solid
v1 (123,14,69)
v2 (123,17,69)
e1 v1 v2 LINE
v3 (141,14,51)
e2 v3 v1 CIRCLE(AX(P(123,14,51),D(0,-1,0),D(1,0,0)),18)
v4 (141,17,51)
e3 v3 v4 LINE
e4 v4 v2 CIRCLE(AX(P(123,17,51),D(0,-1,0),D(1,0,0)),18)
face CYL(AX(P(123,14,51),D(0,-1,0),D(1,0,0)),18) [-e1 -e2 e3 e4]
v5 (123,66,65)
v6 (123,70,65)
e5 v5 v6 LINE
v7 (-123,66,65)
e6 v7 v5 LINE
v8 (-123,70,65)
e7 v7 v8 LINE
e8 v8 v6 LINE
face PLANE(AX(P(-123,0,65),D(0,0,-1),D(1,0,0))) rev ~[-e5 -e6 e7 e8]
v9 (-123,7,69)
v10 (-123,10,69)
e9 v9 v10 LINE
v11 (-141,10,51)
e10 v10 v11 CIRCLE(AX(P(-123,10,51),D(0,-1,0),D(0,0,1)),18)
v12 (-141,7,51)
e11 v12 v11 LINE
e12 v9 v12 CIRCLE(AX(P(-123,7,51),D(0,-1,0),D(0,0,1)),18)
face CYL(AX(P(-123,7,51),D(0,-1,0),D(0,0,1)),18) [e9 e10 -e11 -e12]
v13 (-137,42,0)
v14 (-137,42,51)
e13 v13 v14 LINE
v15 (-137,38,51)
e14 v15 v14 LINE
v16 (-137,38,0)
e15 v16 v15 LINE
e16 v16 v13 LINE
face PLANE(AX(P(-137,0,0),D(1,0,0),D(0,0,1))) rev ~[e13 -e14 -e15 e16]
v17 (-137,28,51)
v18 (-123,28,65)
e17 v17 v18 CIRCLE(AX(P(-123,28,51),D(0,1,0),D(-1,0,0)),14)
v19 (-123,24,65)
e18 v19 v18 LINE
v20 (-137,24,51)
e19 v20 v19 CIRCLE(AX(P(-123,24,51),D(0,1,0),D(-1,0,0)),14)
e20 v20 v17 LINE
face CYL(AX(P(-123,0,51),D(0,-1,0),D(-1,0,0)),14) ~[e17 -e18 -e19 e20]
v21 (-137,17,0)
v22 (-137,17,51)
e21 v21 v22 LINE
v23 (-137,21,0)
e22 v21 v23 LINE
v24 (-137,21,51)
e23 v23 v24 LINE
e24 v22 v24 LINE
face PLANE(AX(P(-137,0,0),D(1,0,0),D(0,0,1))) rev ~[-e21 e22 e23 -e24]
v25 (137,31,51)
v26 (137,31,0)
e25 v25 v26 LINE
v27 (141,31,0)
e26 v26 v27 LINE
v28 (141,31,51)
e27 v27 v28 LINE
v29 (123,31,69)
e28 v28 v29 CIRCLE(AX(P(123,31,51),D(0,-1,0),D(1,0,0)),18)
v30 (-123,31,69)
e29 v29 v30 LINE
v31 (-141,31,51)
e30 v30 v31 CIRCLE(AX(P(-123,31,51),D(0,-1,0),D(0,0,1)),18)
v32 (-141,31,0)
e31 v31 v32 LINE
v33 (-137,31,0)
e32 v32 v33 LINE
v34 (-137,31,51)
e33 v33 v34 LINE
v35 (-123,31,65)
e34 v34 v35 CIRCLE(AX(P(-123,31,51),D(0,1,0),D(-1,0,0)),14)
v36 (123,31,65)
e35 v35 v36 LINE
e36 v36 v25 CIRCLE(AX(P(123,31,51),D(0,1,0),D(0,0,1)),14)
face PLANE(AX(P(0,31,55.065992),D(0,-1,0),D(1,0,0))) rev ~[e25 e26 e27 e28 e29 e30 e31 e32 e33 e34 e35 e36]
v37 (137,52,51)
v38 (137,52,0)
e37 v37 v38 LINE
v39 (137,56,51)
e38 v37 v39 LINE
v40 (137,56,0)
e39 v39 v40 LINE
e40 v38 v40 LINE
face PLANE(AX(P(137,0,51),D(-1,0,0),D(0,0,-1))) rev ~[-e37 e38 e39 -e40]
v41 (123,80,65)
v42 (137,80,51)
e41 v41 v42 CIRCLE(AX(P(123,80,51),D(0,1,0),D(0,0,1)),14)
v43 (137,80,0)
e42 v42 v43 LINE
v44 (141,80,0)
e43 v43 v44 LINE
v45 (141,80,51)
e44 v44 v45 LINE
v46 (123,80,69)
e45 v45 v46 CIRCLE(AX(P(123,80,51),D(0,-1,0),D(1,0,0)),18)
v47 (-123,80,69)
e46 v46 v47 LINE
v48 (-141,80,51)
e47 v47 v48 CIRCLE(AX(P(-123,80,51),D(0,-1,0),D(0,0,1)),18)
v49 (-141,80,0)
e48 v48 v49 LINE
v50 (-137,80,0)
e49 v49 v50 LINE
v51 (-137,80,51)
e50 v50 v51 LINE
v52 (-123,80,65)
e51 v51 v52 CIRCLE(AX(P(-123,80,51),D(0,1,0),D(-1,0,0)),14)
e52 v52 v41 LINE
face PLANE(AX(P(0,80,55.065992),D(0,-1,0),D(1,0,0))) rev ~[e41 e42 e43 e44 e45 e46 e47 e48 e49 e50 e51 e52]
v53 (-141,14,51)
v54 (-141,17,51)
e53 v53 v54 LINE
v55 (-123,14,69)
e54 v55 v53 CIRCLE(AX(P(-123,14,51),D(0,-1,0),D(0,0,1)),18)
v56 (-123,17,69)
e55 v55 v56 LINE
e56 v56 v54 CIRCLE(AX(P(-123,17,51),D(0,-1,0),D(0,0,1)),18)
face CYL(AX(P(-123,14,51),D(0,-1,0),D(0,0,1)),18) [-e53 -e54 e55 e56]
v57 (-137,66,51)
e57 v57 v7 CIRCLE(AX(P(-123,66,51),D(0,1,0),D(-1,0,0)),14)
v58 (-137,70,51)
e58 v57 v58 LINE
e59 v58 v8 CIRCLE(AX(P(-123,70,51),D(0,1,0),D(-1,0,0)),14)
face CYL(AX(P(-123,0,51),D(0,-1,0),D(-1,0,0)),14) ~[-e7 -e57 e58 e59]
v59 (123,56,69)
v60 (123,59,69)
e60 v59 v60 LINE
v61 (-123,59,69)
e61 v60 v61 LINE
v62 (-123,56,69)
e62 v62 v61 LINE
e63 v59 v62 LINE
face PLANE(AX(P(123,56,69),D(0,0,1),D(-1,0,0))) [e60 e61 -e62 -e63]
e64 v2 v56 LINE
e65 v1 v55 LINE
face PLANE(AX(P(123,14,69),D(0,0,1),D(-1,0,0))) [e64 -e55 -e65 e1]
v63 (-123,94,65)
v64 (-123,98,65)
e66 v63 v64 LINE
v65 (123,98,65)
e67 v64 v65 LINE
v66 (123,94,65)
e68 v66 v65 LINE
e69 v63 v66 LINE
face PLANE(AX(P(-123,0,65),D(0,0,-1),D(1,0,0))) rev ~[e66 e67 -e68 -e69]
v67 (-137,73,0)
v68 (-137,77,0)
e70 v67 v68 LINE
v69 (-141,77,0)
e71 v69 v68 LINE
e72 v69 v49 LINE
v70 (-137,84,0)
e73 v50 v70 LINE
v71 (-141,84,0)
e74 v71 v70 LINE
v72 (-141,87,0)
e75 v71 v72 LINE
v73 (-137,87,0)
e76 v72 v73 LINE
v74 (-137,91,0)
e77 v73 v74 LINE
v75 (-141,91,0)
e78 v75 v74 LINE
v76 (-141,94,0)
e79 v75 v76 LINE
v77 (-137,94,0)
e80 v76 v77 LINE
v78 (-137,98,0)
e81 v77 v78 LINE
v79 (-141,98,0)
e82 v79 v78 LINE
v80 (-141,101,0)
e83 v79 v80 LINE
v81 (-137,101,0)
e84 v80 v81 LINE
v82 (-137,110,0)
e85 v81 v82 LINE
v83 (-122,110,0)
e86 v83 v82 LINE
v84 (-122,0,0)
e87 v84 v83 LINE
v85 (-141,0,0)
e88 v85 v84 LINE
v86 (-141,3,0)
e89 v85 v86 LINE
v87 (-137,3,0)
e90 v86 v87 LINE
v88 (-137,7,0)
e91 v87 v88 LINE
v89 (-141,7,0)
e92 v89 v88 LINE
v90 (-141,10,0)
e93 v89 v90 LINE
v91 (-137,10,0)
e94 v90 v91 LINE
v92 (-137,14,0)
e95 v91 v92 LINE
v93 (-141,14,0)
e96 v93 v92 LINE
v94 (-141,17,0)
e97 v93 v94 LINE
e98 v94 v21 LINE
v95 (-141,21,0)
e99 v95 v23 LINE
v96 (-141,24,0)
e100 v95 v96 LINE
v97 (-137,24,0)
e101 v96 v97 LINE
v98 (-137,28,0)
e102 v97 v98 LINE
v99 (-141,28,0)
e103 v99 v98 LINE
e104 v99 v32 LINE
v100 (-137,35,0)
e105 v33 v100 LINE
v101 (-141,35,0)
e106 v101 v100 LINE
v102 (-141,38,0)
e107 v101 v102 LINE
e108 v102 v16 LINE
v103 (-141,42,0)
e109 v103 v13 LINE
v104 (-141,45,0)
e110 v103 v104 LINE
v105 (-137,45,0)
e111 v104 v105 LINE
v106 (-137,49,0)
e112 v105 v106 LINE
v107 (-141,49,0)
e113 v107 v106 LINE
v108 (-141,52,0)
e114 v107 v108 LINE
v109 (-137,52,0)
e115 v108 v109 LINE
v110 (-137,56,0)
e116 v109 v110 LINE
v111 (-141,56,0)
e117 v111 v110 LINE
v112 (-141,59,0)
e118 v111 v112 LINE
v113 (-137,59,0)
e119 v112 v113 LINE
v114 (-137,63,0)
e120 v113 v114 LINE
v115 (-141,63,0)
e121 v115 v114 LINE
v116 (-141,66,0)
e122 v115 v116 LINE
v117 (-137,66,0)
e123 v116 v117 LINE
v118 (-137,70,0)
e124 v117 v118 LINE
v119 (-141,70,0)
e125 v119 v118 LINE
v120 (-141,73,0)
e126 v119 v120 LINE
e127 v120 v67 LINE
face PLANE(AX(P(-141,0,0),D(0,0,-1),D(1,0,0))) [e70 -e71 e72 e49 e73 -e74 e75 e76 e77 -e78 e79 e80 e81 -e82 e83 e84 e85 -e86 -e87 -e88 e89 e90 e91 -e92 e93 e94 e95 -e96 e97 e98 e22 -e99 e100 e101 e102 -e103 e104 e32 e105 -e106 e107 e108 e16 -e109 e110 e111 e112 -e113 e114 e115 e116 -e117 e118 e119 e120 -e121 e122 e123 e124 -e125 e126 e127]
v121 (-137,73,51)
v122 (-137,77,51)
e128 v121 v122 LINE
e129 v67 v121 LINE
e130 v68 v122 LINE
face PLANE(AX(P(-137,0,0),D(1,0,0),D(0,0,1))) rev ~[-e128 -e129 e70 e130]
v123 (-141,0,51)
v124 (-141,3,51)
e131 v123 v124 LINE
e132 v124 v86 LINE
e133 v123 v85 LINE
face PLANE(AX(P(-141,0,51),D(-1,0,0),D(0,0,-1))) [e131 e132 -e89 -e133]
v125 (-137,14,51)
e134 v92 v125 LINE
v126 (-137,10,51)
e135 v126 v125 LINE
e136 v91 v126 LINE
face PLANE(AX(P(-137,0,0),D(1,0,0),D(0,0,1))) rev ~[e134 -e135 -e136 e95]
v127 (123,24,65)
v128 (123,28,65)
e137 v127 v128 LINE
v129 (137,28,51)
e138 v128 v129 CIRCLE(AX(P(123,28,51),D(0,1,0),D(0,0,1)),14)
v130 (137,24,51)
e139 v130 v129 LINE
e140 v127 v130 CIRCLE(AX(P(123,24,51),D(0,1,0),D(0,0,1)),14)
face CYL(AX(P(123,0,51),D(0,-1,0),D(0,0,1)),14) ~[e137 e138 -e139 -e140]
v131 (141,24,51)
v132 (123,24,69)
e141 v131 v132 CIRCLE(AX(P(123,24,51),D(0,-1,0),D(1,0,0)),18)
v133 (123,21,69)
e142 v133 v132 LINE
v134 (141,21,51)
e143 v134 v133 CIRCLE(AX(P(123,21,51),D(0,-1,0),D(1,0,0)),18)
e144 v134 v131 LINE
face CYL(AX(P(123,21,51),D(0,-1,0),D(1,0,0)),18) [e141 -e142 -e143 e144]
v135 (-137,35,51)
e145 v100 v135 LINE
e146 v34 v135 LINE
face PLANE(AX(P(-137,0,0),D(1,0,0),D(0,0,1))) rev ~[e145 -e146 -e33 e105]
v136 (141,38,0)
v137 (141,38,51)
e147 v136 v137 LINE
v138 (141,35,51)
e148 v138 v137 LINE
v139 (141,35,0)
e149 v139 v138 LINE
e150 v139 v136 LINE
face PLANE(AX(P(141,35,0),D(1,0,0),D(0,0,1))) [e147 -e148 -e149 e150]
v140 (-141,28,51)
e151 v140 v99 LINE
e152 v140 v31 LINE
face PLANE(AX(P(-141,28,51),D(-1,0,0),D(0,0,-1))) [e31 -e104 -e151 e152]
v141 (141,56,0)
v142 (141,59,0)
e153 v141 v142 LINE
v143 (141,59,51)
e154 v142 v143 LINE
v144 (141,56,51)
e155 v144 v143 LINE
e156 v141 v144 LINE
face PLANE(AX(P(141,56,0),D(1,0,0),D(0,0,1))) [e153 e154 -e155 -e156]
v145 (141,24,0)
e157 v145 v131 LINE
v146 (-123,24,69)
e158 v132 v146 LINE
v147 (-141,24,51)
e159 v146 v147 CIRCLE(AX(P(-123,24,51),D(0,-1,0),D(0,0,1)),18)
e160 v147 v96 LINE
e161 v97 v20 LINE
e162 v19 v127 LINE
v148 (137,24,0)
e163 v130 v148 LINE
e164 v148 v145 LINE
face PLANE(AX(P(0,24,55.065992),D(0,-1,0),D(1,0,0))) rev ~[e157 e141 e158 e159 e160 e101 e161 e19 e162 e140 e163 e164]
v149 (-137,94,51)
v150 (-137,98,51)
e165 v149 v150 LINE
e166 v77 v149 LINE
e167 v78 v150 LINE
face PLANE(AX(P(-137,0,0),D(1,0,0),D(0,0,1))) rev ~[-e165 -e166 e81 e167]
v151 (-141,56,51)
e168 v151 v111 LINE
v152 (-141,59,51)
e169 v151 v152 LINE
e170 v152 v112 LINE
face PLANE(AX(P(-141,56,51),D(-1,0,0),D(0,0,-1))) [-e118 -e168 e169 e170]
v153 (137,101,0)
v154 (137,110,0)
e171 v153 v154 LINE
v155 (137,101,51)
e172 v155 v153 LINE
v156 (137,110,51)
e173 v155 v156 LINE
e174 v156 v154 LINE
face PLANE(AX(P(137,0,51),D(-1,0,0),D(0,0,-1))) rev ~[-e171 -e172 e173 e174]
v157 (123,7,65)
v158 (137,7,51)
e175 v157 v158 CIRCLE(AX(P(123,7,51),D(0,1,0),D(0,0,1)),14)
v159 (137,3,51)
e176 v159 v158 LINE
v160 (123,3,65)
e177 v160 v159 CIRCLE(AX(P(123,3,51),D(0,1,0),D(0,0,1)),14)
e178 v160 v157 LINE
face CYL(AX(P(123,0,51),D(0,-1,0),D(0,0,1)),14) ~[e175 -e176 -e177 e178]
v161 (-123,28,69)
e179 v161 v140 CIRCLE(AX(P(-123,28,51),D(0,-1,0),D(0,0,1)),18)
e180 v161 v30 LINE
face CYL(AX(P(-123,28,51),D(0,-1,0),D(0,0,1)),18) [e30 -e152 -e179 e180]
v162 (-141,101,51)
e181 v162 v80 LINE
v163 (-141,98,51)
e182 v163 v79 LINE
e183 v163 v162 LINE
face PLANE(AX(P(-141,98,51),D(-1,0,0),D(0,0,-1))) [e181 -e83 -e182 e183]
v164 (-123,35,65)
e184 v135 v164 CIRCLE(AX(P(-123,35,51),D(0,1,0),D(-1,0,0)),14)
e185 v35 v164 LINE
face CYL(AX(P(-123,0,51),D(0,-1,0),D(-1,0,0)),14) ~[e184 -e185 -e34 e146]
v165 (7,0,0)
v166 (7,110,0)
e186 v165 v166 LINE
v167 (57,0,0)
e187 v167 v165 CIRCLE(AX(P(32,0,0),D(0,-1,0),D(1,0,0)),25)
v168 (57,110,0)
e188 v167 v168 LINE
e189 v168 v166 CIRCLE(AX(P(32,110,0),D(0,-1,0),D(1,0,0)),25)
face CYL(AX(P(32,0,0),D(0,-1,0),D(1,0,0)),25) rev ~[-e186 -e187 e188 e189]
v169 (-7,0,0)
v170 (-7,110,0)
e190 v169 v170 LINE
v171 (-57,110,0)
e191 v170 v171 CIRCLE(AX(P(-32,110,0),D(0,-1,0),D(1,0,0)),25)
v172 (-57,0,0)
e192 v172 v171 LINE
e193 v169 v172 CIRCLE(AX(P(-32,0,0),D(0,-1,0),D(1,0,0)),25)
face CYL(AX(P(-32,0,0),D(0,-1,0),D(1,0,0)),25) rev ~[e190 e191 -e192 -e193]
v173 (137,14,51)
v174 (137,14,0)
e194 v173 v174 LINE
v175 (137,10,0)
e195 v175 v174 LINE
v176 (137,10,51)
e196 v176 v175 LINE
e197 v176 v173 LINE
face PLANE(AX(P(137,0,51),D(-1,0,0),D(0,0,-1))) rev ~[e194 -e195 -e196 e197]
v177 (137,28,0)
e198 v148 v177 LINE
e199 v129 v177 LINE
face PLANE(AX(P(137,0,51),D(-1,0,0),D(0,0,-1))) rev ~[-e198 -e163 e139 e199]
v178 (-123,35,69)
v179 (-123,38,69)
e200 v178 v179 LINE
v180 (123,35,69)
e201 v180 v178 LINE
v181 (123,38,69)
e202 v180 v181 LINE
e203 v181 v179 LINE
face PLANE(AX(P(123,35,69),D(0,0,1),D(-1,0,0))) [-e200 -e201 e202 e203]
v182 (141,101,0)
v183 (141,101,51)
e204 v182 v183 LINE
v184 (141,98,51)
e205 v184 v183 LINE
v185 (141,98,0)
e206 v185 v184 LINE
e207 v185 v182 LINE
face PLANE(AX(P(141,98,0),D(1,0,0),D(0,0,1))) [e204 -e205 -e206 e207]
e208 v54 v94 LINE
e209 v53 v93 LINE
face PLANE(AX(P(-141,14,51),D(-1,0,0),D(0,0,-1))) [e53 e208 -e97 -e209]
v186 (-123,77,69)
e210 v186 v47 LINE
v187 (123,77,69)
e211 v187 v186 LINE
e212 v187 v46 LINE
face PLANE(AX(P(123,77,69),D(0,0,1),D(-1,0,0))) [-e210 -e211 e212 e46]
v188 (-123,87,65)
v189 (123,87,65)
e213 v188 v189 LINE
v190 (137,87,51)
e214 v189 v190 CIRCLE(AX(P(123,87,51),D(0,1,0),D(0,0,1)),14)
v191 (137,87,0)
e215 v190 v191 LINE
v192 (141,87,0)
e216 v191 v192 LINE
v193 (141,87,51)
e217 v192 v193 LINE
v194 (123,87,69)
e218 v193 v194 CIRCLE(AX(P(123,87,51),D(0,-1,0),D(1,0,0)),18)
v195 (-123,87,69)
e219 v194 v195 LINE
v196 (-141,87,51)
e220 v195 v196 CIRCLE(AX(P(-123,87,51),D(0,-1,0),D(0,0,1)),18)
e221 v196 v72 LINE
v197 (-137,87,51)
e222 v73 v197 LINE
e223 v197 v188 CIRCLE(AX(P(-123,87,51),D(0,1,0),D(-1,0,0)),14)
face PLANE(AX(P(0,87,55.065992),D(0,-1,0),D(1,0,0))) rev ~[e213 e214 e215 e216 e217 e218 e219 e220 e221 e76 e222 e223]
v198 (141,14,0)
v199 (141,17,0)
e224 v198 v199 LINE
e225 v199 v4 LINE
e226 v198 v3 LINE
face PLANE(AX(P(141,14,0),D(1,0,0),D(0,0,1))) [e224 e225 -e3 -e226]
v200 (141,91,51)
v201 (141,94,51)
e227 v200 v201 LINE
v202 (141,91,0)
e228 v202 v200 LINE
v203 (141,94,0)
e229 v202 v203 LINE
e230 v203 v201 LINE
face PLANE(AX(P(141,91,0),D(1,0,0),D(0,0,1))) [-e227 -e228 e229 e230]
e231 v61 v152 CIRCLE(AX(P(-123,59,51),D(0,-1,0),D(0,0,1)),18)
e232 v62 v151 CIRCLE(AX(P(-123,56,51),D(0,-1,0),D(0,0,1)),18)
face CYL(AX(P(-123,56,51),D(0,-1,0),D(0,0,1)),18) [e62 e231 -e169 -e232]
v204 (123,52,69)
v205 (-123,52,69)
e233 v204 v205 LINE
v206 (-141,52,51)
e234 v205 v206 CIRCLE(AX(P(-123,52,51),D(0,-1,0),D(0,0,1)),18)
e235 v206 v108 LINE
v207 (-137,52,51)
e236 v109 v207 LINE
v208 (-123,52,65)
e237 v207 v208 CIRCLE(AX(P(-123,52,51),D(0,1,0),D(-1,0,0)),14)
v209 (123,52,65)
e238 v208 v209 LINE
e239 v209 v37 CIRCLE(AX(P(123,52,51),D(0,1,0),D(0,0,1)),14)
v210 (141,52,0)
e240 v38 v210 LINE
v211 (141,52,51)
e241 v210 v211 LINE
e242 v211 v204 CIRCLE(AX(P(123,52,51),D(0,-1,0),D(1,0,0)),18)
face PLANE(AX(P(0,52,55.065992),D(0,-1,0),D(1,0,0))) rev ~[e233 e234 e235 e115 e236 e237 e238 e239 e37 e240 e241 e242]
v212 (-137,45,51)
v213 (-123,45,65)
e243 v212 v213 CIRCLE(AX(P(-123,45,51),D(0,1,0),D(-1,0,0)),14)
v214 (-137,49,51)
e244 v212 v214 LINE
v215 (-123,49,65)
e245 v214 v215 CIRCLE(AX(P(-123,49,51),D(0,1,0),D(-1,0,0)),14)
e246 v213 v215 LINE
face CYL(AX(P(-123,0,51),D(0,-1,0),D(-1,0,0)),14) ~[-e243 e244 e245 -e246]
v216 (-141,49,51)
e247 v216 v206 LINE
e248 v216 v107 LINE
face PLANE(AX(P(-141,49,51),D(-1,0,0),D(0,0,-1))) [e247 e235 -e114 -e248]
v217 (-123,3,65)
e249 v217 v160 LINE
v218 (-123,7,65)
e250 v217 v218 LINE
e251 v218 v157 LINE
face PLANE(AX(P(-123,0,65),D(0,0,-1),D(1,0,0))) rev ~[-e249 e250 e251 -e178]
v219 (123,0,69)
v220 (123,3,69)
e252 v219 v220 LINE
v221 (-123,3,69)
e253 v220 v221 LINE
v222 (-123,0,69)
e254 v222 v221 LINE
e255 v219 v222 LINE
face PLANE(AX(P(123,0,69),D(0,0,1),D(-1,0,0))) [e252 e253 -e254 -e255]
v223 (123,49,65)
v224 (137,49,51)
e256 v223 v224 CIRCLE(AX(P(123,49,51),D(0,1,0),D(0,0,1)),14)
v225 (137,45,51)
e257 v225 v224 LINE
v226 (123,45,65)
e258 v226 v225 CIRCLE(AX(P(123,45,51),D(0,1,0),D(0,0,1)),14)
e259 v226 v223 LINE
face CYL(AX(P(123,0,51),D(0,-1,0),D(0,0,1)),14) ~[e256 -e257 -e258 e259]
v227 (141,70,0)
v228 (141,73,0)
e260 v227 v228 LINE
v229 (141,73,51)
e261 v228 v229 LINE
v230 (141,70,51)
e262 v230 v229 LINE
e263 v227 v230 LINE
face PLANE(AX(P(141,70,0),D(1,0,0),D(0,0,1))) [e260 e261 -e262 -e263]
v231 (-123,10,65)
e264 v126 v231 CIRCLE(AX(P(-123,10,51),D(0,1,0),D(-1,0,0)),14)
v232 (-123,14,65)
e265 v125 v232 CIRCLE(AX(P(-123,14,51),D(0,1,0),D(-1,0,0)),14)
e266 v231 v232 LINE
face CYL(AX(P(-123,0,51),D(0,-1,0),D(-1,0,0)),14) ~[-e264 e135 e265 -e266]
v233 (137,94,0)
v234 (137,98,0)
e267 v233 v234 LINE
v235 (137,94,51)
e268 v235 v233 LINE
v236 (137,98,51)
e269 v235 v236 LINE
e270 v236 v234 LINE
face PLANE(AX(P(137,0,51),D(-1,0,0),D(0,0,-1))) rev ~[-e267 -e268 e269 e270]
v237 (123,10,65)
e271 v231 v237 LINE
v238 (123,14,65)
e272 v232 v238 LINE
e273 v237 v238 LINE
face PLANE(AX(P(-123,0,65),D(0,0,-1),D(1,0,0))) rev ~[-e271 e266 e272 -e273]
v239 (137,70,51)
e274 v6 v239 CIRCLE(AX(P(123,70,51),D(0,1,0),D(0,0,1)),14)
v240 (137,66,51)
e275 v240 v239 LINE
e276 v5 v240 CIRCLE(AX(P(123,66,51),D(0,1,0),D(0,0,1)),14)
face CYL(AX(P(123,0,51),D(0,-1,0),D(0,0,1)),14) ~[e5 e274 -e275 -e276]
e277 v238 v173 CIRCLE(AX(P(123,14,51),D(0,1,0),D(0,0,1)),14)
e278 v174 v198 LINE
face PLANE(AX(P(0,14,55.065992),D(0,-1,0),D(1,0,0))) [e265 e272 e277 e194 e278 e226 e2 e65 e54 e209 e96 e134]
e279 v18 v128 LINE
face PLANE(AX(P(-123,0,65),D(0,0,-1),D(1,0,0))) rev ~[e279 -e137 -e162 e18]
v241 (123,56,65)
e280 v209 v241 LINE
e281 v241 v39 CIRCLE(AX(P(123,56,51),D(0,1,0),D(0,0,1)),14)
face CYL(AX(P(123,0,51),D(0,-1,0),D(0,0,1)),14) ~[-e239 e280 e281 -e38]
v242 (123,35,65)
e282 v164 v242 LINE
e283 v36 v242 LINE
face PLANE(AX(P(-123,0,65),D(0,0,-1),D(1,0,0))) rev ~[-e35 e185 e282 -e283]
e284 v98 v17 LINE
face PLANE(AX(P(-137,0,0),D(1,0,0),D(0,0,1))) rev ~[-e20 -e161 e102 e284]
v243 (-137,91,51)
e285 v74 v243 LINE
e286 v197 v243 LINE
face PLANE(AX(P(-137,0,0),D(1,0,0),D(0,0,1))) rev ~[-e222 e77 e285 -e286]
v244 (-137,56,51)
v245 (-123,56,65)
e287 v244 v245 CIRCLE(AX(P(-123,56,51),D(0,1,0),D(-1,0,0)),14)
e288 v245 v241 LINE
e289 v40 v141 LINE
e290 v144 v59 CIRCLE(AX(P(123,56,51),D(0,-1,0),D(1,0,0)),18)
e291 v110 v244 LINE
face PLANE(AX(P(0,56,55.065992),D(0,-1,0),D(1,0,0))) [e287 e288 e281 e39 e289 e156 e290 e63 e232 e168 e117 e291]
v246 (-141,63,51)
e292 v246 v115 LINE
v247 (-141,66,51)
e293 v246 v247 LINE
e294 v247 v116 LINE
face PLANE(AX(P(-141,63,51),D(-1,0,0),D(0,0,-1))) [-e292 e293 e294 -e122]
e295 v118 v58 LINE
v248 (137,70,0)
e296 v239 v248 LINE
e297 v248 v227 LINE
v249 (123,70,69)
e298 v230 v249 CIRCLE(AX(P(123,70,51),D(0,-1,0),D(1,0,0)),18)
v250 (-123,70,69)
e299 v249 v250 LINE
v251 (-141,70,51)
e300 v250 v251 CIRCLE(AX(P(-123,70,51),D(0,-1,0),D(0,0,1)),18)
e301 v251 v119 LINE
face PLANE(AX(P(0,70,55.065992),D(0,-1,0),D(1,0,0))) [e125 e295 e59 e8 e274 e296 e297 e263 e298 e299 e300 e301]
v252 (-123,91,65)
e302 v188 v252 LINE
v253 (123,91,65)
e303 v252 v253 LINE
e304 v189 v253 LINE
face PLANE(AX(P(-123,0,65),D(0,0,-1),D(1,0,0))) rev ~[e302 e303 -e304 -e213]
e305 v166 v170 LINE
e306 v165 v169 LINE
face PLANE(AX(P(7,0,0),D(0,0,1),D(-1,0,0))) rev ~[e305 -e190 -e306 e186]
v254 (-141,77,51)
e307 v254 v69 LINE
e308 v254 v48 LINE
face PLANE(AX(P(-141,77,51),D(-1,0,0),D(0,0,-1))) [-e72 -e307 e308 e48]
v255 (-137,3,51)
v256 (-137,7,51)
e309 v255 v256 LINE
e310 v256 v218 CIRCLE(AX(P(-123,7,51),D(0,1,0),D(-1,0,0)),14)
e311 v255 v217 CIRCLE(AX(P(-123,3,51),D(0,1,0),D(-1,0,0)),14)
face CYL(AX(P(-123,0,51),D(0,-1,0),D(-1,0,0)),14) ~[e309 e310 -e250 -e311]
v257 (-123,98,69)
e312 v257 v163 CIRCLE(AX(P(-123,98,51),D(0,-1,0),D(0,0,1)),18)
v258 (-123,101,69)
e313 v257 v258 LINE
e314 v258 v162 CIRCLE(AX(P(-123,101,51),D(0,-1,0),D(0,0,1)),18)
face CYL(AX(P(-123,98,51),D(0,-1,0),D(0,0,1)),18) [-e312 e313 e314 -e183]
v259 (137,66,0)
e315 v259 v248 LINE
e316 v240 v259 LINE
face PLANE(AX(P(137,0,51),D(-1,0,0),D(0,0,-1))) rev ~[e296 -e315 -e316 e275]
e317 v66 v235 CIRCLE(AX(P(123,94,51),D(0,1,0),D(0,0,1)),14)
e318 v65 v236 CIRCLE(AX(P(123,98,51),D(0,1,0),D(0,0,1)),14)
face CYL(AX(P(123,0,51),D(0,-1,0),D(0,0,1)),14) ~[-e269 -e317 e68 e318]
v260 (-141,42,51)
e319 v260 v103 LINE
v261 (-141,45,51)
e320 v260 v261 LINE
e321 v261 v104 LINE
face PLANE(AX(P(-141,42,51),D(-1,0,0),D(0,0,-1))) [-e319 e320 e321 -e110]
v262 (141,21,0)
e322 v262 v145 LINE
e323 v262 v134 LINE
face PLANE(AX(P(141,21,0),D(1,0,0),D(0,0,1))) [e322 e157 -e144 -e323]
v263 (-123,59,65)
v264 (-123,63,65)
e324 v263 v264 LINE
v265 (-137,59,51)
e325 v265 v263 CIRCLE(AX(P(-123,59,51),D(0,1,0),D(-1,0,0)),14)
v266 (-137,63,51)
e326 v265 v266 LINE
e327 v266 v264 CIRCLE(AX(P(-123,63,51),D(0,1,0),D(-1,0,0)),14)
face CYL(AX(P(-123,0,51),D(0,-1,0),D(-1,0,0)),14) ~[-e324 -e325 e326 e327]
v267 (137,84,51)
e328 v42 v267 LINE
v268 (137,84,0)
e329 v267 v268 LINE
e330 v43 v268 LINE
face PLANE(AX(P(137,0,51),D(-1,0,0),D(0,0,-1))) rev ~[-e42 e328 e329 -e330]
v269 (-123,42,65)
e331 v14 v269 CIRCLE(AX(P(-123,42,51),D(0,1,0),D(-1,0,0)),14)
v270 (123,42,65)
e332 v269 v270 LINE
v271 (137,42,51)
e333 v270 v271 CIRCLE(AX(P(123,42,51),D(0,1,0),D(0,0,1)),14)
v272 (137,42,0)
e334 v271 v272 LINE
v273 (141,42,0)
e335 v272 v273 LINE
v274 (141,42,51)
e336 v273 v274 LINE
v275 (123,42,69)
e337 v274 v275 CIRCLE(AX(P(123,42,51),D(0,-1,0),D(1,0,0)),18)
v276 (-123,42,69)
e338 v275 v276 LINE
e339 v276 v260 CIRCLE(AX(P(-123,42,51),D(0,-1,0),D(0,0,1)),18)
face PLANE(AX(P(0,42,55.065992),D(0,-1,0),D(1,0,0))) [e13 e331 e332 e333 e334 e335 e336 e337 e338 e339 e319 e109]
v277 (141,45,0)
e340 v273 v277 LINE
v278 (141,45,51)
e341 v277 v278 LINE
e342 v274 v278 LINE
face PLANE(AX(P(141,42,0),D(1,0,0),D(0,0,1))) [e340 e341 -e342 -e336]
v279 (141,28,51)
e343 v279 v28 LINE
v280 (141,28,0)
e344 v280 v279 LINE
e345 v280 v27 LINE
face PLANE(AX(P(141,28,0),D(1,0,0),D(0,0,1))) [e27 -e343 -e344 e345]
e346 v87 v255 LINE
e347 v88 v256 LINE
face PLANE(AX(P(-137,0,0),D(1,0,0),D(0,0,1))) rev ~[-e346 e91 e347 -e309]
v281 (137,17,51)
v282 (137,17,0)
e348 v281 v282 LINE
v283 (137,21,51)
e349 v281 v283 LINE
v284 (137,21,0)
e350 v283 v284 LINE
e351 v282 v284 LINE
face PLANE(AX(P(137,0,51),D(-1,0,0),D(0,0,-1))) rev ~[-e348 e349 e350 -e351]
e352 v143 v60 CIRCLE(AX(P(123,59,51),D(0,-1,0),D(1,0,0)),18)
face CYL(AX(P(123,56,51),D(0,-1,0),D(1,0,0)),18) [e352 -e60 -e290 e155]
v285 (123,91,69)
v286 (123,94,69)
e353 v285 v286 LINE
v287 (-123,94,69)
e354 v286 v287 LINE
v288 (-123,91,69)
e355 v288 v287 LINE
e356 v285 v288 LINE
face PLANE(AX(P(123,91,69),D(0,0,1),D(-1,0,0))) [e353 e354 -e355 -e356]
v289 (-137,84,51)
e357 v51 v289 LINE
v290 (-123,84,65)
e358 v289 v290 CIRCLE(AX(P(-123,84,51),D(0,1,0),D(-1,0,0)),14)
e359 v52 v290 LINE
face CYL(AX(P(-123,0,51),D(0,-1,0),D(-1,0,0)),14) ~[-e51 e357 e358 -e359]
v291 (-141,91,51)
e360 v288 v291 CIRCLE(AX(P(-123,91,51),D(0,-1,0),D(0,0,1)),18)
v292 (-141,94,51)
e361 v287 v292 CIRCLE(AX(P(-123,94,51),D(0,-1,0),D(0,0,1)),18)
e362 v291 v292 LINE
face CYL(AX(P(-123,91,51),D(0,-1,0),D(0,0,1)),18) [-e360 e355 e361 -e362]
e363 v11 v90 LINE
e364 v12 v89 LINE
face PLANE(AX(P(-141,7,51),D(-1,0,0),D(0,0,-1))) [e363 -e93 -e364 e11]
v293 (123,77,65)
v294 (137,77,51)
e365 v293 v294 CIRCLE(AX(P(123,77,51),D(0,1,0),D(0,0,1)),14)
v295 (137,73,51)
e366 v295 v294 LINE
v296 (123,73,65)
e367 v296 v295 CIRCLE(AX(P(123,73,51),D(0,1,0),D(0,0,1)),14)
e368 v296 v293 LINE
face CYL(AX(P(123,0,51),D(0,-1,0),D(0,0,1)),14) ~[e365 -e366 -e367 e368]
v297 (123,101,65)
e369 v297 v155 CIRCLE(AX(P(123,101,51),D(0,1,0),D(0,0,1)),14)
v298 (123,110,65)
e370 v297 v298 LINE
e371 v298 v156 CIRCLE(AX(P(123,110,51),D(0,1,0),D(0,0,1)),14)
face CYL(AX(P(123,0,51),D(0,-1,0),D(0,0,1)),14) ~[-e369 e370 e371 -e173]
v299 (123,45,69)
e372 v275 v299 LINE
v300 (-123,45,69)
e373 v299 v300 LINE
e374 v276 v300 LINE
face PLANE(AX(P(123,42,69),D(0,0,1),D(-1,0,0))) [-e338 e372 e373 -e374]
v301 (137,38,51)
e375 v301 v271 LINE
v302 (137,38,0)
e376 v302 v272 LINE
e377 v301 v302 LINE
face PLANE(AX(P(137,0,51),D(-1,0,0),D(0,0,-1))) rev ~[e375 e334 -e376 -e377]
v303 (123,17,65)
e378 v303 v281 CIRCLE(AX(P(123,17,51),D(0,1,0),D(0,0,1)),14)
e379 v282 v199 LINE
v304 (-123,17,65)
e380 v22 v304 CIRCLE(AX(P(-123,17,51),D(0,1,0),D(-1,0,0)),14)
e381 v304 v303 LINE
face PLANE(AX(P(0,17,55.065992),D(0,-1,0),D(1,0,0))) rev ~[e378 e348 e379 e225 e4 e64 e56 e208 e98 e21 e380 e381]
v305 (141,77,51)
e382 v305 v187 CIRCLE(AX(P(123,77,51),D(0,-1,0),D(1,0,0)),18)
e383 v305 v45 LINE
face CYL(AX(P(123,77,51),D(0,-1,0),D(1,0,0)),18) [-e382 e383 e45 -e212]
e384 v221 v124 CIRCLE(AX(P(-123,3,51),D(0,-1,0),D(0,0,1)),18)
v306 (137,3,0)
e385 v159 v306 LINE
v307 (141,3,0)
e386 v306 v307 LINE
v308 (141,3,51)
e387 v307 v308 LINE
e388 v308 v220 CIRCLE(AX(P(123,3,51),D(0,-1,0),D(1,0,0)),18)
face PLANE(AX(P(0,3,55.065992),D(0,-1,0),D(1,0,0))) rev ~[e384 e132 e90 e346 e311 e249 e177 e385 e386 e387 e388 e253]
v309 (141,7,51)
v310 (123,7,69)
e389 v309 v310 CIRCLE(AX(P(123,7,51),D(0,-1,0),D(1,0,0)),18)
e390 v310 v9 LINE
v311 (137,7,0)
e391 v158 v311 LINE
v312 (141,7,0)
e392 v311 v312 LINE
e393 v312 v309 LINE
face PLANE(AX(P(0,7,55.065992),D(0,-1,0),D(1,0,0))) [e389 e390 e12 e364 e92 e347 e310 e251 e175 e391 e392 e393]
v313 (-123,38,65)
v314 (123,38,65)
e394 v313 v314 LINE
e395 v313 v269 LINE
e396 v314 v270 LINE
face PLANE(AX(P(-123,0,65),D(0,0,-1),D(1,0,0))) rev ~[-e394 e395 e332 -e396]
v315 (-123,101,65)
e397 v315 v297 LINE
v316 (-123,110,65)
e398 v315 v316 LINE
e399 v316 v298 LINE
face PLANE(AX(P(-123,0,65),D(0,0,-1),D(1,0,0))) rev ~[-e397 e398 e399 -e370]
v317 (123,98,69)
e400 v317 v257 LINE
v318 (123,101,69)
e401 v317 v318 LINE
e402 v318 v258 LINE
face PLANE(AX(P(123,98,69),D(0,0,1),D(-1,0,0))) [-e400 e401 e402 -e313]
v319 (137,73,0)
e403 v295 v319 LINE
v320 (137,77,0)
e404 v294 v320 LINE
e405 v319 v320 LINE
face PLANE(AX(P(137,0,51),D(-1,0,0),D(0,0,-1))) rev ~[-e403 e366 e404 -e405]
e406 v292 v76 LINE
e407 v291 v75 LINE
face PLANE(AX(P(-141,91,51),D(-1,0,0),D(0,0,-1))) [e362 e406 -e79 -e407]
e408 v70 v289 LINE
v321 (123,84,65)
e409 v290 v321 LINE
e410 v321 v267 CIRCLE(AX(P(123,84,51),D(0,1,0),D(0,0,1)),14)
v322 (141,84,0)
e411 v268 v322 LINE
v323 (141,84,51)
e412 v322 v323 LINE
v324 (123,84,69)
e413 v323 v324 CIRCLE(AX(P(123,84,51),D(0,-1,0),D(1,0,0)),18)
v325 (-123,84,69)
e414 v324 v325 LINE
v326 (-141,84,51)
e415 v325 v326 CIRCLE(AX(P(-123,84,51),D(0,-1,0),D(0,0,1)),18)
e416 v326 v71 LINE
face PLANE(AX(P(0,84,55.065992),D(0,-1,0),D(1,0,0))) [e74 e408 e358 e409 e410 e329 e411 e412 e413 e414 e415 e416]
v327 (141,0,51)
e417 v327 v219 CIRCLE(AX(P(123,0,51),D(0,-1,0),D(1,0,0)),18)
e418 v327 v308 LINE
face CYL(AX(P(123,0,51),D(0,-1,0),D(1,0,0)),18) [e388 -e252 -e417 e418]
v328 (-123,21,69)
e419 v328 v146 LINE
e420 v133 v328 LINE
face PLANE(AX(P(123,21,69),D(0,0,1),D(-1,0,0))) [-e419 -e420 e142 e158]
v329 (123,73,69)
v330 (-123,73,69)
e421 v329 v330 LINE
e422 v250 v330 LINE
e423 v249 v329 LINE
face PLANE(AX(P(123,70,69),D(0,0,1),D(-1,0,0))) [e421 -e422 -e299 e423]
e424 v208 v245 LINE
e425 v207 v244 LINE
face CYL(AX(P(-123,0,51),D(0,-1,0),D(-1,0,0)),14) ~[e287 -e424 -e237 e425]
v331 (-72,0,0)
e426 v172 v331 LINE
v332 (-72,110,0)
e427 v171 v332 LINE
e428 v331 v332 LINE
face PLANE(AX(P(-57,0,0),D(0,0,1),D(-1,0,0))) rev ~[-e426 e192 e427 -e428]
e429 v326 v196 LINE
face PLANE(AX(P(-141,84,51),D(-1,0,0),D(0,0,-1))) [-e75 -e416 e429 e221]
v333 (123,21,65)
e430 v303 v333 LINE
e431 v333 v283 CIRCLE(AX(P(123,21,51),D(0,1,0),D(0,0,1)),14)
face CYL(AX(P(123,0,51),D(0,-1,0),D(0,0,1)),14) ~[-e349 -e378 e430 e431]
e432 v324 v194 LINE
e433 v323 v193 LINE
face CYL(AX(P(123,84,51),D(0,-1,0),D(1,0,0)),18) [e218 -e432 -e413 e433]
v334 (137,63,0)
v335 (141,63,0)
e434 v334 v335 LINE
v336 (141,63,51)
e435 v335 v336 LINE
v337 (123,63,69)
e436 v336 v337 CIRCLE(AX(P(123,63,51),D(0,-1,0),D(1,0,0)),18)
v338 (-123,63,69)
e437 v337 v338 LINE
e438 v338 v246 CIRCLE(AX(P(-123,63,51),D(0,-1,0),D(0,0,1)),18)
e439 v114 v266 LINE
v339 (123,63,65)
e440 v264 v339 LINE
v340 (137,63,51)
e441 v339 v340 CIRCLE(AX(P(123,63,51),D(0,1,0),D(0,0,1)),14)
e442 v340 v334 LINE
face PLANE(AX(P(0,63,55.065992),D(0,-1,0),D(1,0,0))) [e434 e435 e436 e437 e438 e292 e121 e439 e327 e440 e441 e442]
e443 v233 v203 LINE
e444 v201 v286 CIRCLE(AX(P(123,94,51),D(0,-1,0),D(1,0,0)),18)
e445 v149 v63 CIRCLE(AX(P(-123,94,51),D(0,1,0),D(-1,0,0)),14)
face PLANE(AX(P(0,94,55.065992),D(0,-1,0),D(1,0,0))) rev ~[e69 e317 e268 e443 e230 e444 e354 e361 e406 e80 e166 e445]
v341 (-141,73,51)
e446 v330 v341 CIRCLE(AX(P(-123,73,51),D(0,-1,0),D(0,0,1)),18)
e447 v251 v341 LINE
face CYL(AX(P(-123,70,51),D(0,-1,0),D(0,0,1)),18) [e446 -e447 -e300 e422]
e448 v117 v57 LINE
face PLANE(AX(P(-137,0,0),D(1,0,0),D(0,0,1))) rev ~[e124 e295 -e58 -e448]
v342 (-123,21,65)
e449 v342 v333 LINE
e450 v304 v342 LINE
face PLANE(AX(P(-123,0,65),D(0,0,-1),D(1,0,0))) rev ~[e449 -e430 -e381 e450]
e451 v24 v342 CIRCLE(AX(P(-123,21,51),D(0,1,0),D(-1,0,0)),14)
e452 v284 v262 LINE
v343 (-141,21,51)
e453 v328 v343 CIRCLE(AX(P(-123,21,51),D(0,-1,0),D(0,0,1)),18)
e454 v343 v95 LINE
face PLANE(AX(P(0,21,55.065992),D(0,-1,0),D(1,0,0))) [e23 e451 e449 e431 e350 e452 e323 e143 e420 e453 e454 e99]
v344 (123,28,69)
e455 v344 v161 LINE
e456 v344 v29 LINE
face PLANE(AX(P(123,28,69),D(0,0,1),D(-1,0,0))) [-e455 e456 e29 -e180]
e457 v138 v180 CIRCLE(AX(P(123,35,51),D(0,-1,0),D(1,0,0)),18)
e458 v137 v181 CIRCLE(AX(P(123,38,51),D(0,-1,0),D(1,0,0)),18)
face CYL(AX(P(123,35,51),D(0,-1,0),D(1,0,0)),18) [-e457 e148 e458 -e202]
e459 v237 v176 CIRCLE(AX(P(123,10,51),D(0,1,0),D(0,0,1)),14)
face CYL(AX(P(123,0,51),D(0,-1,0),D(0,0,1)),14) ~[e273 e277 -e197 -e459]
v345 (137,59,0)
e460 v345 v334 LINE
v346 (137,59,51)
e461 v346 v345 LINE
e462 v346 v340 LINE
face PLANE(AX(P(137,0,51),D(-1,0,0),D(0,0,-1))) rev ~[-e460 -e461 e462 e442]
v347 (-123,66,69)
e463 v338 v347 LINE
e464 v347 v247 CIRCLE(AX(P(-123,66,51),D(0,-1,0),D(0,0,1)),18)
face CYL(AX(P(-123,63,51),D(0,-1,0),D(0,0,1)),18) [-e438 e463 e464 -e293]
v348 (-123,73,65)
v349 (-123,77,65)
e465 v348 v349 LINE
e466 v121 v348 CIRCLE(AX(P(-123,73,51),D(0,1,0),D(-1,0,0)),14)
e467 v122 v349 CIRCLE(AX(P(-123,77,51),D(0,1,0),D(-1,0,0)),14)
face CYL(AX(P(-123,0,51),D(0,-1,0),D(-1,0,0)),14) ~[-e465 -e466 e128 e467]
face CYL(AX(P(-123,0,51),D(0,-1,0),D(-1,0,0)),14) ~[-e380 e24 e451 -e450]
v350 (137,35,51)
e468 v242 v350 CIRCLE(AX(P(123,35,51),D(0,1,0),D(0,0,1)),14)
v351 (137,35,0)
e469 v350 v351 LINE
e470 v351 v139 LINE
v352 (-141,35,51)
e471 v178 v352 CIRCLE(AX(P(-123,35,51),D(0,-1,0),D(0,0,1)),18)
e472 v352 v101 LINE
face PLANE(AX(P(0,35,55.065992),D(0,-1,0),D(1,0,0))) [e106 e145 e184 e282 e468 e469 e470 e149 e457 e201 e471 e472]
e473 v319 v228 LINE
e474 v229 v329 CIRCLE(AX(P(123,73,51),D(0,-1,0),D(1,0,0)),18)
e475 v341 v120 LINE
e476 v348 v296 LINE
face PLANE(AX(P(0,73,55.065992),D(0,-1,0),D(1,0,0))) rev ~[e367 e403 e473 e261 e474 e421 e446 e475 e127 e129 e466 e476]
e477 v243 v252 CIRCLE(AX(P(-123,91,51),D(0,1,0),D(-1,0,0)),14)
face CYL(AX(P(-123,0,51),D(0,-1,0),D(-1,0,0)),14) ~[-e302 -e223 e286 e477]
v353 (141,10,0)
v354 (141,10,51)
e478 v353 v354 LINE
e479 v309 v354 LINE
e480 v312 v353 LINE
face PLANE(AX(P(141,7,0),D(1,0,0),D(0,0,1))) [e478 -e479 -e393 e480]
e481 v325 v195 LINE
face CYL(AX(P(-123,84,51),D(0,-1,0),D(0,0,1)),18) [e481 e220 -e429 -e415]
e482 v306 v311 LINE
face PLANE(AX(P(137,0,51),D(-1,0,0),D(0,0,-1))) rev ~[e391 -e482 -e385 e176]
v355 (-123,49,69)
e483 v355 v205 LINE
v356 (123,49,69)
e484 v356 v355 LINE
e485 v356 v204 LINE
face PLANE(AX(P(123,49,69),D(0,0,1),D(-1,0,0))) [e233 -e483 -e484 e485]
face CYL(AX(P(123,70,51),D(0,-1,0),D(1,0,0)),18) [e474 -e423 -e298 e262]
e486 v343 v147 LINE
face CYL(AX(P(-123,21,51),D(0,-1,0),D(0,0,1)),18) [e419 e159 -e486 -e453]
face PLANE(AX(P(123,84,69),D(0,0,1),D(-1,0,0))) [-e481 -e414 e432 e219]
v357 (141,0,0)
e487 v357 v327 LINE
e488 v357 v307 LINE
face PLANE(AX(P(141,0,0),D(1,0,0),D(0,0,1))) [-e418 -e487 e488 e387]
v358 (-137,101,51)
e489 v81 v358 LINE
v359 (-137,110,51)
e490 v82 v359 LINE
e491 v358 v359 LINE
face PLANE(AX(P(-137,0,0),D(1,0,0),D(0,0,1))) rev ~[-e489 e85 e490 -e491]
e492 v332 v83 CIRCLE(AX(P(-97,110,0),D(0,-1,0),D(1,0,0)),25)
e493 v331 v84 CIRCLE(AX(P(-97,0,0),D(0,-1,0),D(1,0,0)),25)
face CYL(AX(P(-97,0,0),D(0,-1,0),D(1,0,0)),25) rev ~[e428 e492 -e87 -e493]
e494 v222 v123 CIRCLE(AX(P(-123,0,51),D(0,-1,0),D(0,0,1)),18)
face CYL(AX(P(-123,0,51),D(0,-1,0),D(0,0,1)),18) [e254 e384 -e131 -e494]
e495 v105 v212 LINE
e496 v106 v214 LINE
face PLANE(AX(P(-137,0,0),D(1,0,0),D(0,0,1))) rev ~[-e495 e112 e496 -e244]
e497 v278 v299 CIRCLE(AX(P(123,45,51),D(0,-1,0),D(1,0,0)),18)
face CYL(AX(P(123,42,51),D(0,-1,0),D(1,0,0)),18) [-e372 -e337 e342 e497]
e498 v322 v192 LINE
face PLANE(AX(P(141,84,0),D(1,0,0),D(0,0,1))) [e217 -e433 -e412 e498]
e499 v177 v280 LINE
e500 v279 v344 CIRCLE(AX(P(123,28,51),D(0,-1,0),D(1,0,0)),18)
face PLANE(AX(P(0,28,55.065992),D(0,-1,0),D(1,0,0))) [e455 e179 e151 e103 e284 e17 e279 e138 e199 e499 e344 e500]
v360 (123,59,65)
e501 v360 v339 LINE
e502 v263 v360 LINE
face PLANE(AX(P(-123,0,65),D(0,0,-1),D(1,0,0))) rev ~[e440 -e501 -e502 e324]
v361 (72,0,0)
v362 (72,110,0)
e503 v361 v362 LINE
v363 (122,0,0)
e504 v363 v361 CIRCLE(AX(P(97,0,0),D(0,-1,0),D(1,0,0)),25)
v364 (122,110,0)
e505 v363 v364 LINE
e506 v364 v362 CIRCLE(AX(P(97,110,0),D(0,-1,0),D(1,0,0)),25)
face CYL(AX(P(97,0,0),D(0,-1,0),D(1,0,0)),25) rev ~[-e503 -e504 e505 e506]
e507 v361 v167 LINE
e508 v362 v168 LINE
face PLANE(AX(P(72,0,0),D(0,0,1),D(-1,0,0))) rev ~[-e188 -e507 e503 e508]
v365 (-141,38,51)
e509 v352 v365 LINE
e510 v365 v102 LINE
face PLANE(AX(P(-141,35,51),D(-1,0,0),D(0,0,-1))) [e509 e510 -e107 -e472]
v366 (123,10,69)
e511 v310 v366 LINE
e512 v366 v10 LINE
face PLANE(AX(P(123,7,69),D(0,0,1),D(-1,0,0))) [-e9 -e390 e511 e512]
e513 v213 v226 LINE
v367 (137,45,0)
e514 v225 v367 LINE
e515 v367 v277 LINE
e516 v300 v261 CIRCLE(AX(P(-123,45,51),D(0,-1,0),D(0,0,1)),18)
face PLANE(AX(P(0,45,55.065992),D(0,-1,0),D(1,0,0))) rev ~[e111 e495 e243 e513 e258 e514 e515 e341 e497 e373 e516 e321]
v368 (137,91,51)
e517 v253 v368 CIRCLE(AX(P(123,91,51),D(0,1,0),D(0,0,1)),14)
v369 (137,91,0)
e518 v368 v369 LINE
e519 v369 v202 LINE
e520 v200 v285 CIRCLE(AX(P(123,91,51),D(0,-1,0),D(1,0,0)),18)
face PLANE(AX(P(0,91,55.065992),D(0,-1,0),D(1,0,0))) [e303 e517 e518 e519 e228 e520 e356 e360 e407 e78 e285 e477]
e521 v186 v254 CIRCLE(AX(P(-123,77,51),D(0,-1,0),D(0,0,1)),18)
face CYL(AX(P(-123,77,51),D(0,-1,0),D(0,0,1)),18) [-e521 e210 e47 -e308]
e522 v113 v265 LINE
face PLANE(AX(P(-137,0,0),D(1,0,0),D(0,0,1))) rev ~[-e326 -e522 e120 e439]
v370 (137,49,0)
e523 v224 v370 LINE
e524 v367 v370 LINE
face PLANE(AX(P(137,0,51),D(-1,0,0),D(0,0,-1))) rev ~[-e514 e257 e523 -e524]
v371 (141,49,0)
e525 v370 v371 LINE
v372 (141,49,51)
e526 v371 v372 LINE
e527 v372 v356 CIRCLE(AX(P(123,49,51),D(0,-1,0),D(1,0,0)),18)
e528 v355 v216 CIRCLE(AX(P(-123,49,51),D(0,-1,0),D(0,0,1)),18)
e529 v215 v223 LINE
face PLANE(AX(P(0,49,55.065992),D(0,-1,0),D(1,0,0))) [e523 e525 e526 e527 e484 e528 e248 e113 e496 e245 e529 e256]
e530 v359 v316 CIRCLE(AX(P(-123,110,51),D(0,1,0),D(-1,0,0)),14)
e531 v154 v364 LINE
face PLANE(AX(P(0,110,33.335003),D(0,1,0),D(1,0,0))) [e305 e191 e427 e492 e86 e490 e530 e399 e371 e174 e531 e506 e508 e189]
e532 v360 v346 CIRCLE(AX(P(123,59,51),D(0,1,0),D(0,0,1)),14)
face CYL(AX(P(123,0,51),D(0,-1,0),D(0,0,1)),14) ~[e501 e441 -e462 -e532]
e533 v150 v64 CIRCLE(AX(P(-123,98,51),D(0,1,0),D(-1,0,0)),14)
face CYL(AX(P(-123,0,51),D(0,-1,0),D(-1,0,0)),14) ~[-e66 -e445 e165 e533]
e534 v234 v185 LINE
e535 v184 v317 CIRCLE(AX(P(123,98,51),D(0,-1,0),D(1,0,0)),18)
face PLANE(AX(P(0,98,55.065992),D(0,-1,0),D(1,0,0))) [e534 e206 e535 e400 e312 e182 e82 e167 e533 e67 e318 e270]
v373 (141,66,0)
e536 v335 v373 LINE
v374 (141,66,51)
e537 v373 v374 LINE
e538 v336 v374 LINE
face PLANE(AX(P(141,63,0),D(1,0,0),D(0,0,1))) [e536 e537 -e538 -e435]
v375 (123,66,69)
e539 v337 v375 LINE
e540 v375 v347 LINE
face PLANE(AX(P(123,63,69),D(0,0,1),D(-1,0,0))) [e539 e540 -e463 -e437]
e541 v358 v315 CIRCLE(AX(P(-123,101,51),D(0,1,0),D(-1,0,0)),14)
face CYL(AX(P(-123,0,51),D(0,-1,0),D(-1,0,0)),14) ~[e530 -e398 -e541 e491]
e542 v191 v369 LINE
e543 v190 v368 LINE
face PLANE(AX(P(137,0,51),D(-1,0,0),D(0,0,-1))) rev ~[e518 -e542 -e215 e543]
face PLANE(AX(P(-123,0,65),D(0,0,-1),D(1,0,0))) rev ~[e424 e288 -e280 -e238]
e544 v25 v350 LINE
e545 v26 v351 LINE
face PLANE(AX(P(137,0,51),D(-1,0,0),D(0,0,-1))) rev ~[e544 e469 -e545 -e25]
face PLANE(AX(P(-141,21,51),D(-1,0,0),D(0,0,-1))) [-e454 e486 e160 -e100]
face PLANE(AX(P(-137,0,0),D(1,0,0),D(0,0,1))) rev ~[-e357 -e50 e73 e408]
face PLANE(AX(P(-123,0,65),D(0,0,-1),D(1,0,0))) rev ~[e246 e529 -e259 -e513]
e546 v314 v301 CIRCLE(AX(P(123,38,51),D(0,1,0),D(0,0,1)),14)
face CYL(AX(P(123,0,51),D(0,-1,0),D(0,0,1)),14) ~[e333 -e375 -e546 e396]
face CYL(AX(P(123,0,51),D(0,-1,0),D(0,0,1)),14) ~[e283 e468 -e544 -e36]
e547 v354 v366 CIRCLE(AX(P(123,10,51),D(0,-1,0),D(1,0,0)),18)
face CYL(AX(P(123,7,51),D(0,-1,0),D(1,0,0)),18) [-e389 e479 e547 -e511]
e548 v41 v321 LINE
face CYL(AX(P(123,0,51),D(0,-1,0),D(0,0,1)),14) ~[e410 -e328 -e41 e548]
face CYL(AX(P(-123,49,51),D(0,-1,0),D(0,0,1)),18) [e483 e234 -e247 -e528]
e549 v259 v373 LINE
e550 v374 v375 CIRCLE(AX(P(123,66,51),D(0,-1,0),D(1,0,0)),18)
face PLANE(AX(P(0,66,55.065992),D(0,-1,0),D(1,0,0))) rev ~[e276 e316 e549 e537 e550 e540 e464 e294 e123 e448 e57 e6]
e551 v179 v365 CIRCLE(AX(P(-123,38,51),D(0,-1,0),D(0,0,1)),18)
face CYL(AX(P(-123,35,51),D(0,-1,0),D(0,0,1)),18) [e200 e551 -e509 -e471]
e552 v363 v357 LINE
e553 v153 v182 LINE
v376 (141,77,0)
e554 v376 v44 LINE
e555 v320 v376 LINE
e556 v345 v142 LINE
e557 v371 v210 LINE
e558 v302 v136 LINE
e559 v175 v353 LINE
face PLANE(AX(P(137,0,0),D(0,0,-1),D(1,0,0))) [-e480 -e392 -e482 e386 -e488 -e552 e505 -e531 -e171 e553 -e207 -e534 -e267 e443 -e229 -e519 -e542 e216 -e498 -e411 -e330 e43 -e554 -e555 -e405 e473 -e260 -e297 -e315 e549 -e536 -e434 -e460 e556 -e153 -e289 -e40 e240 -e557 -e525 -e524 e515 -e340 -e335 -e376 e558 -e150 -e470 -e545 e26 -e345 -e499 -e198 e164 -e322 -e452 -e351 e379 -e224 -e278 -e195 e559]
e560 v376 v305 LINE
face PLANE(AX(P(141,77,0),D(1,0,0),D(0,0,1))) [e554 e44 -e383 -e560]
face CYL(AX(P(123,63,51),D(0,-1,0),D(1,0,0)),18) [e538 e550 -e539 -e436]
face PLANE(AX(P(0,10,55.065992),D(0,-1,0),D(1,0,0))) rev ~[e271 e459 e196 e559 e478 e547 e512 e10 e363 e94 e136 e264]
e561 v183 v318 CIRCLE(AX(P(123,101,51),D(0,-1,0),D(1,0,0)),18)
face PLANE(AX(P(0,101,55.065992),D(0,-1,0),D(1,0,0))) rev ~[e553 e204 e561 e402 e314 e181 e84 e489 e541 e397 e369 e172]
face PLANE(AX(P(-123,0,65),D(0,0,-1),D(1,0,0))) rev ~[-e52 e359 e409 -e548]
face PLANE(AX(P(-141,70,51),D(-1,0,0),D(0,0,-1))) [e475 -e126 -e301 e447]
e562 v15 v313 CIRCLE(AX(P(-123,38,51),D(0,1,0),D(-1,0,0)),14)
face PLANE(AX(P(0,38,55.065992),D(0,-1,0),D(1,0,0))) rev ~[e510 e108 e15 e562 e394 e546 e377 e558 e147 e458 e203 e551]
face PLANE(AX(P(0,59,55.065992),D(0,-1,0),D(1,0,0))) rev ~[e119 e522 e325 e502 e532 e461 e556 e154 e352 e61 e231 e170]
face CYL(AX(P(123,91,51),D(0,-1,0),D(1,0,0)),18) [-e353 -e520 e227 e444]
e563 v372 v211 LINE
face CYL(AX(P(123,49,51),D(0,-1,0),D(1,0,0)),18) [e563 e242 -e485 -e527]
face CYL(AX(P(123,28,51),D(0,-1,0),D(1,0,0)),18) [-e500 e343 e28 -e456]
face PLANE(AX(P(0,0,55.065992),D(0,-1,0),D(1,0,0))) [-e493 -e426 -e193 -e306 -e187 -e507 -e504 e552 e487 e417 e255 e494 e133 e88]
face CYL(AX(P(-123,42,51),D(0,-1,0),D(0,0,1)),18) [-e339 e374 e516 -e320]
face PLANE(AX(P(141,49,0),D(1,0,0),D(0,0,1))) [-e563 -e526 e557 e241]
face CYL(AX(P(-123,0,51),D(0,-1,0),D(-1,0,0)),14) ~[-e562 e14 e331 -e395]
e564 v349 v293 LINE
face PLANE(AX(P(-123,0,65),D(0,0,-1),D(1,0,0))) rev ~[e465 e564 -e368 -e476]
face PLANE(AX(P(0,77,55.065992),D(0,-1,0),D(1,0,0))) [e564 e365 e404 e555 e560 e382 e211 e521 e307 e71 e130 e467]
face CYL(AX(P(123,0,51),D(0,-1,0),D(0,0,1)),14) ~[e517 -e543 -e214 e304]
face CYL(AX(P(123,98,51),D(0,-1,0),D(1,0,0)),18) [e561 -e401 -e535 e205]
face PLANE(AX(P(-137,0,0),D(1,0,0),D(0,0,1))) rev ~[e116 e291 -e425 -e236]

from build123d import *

# Parameters (mm, degrees)
BOSS_EXTRUDE1_DEPTH = 110
BOSS_EXTRUDE2_DEPTH = 3
LPATTERN5_COUNT     = 15
LPATTERN5_PITCH     = 7


with BuildPart() as part:
    # Sketch1 → Boss-Extrude1 (new body)
    with BuildSketch(Plane(origin=(0, 0, 0), x_dir=(1, 0, 0), z_dir=(0, 1, 0))):
        with BuildLine():
            ThreePointArc((57, 0), (32, -25), (7, 0))
            Line((7, 0), (-7, 0))
            ThreePointArc((-7, 0), (-32, -25), (-57, 0))
            Line((-57, 0), (-72, 0))
            ThreePointArc((-72, 0), (-97, -25), (-122, 0))
            Line((-122, 0), (-137, 0))
            Line((-137, 0), (-137, -51))
            ThreePointArc((-137, -51), (-132.899494937, -60.899494937), (-123, -65))
            Line((-123, -65), (123, -65))
            ThreePointArc((123, -65), (132.899494937, -60.899494937), (137, -51))
            Line((137, -51), (137, 0))
            Line((137, 0), (122, 0))
            ThreePointArc((122, 0), (97, -25), (72, 0))
            Line((72, 0), (57, 0))
        make_face()
    extrude(amount=BOSS_EXTRUDE1_DEPTH)

    # Sketch2 → Boss-Extrude2 (add)
    with BuildSketch(Plane.XZ):
        with BuildLine():
            Line((123, 69), (-123, 69))
            ThreePointArc((-123, 69), (-135.727922061, 63.727922061), (-141, 51))
            Line((-141, 51), (-141, 0))
            Line((-141, 0), (-137, 0))
            Line((-137, 0), (-137, 51))
            ThreePointArc((-137, 51), (-132.899494937, 60.899494937), (-123, 65))
            Line((-123, 65), (123, 65))
            ThreePointArc((123, 65), (132.899494937, 60.899494937), (137, 51))
            Line((137, 51), (137, 0))
            Line((137, 0), (141, 0))
            Line((141, 0), (141, 51))
            ThreePointArc((141, 51), (135.727922061, 63.727922061), (123, 69))
        make_face()
    boss_extrude2 = extrude(amount=-BOSS_EXTRUDE2_DEPTH)

    # LPattern5: Boss-Extrude2 ×15
    with Locations(*[(0, i * LPATTERN5_PITCH, 0) for i in range(1, LPATTERN5_COUNT)]):
        add(boss_extrude2)


solid = part.part
